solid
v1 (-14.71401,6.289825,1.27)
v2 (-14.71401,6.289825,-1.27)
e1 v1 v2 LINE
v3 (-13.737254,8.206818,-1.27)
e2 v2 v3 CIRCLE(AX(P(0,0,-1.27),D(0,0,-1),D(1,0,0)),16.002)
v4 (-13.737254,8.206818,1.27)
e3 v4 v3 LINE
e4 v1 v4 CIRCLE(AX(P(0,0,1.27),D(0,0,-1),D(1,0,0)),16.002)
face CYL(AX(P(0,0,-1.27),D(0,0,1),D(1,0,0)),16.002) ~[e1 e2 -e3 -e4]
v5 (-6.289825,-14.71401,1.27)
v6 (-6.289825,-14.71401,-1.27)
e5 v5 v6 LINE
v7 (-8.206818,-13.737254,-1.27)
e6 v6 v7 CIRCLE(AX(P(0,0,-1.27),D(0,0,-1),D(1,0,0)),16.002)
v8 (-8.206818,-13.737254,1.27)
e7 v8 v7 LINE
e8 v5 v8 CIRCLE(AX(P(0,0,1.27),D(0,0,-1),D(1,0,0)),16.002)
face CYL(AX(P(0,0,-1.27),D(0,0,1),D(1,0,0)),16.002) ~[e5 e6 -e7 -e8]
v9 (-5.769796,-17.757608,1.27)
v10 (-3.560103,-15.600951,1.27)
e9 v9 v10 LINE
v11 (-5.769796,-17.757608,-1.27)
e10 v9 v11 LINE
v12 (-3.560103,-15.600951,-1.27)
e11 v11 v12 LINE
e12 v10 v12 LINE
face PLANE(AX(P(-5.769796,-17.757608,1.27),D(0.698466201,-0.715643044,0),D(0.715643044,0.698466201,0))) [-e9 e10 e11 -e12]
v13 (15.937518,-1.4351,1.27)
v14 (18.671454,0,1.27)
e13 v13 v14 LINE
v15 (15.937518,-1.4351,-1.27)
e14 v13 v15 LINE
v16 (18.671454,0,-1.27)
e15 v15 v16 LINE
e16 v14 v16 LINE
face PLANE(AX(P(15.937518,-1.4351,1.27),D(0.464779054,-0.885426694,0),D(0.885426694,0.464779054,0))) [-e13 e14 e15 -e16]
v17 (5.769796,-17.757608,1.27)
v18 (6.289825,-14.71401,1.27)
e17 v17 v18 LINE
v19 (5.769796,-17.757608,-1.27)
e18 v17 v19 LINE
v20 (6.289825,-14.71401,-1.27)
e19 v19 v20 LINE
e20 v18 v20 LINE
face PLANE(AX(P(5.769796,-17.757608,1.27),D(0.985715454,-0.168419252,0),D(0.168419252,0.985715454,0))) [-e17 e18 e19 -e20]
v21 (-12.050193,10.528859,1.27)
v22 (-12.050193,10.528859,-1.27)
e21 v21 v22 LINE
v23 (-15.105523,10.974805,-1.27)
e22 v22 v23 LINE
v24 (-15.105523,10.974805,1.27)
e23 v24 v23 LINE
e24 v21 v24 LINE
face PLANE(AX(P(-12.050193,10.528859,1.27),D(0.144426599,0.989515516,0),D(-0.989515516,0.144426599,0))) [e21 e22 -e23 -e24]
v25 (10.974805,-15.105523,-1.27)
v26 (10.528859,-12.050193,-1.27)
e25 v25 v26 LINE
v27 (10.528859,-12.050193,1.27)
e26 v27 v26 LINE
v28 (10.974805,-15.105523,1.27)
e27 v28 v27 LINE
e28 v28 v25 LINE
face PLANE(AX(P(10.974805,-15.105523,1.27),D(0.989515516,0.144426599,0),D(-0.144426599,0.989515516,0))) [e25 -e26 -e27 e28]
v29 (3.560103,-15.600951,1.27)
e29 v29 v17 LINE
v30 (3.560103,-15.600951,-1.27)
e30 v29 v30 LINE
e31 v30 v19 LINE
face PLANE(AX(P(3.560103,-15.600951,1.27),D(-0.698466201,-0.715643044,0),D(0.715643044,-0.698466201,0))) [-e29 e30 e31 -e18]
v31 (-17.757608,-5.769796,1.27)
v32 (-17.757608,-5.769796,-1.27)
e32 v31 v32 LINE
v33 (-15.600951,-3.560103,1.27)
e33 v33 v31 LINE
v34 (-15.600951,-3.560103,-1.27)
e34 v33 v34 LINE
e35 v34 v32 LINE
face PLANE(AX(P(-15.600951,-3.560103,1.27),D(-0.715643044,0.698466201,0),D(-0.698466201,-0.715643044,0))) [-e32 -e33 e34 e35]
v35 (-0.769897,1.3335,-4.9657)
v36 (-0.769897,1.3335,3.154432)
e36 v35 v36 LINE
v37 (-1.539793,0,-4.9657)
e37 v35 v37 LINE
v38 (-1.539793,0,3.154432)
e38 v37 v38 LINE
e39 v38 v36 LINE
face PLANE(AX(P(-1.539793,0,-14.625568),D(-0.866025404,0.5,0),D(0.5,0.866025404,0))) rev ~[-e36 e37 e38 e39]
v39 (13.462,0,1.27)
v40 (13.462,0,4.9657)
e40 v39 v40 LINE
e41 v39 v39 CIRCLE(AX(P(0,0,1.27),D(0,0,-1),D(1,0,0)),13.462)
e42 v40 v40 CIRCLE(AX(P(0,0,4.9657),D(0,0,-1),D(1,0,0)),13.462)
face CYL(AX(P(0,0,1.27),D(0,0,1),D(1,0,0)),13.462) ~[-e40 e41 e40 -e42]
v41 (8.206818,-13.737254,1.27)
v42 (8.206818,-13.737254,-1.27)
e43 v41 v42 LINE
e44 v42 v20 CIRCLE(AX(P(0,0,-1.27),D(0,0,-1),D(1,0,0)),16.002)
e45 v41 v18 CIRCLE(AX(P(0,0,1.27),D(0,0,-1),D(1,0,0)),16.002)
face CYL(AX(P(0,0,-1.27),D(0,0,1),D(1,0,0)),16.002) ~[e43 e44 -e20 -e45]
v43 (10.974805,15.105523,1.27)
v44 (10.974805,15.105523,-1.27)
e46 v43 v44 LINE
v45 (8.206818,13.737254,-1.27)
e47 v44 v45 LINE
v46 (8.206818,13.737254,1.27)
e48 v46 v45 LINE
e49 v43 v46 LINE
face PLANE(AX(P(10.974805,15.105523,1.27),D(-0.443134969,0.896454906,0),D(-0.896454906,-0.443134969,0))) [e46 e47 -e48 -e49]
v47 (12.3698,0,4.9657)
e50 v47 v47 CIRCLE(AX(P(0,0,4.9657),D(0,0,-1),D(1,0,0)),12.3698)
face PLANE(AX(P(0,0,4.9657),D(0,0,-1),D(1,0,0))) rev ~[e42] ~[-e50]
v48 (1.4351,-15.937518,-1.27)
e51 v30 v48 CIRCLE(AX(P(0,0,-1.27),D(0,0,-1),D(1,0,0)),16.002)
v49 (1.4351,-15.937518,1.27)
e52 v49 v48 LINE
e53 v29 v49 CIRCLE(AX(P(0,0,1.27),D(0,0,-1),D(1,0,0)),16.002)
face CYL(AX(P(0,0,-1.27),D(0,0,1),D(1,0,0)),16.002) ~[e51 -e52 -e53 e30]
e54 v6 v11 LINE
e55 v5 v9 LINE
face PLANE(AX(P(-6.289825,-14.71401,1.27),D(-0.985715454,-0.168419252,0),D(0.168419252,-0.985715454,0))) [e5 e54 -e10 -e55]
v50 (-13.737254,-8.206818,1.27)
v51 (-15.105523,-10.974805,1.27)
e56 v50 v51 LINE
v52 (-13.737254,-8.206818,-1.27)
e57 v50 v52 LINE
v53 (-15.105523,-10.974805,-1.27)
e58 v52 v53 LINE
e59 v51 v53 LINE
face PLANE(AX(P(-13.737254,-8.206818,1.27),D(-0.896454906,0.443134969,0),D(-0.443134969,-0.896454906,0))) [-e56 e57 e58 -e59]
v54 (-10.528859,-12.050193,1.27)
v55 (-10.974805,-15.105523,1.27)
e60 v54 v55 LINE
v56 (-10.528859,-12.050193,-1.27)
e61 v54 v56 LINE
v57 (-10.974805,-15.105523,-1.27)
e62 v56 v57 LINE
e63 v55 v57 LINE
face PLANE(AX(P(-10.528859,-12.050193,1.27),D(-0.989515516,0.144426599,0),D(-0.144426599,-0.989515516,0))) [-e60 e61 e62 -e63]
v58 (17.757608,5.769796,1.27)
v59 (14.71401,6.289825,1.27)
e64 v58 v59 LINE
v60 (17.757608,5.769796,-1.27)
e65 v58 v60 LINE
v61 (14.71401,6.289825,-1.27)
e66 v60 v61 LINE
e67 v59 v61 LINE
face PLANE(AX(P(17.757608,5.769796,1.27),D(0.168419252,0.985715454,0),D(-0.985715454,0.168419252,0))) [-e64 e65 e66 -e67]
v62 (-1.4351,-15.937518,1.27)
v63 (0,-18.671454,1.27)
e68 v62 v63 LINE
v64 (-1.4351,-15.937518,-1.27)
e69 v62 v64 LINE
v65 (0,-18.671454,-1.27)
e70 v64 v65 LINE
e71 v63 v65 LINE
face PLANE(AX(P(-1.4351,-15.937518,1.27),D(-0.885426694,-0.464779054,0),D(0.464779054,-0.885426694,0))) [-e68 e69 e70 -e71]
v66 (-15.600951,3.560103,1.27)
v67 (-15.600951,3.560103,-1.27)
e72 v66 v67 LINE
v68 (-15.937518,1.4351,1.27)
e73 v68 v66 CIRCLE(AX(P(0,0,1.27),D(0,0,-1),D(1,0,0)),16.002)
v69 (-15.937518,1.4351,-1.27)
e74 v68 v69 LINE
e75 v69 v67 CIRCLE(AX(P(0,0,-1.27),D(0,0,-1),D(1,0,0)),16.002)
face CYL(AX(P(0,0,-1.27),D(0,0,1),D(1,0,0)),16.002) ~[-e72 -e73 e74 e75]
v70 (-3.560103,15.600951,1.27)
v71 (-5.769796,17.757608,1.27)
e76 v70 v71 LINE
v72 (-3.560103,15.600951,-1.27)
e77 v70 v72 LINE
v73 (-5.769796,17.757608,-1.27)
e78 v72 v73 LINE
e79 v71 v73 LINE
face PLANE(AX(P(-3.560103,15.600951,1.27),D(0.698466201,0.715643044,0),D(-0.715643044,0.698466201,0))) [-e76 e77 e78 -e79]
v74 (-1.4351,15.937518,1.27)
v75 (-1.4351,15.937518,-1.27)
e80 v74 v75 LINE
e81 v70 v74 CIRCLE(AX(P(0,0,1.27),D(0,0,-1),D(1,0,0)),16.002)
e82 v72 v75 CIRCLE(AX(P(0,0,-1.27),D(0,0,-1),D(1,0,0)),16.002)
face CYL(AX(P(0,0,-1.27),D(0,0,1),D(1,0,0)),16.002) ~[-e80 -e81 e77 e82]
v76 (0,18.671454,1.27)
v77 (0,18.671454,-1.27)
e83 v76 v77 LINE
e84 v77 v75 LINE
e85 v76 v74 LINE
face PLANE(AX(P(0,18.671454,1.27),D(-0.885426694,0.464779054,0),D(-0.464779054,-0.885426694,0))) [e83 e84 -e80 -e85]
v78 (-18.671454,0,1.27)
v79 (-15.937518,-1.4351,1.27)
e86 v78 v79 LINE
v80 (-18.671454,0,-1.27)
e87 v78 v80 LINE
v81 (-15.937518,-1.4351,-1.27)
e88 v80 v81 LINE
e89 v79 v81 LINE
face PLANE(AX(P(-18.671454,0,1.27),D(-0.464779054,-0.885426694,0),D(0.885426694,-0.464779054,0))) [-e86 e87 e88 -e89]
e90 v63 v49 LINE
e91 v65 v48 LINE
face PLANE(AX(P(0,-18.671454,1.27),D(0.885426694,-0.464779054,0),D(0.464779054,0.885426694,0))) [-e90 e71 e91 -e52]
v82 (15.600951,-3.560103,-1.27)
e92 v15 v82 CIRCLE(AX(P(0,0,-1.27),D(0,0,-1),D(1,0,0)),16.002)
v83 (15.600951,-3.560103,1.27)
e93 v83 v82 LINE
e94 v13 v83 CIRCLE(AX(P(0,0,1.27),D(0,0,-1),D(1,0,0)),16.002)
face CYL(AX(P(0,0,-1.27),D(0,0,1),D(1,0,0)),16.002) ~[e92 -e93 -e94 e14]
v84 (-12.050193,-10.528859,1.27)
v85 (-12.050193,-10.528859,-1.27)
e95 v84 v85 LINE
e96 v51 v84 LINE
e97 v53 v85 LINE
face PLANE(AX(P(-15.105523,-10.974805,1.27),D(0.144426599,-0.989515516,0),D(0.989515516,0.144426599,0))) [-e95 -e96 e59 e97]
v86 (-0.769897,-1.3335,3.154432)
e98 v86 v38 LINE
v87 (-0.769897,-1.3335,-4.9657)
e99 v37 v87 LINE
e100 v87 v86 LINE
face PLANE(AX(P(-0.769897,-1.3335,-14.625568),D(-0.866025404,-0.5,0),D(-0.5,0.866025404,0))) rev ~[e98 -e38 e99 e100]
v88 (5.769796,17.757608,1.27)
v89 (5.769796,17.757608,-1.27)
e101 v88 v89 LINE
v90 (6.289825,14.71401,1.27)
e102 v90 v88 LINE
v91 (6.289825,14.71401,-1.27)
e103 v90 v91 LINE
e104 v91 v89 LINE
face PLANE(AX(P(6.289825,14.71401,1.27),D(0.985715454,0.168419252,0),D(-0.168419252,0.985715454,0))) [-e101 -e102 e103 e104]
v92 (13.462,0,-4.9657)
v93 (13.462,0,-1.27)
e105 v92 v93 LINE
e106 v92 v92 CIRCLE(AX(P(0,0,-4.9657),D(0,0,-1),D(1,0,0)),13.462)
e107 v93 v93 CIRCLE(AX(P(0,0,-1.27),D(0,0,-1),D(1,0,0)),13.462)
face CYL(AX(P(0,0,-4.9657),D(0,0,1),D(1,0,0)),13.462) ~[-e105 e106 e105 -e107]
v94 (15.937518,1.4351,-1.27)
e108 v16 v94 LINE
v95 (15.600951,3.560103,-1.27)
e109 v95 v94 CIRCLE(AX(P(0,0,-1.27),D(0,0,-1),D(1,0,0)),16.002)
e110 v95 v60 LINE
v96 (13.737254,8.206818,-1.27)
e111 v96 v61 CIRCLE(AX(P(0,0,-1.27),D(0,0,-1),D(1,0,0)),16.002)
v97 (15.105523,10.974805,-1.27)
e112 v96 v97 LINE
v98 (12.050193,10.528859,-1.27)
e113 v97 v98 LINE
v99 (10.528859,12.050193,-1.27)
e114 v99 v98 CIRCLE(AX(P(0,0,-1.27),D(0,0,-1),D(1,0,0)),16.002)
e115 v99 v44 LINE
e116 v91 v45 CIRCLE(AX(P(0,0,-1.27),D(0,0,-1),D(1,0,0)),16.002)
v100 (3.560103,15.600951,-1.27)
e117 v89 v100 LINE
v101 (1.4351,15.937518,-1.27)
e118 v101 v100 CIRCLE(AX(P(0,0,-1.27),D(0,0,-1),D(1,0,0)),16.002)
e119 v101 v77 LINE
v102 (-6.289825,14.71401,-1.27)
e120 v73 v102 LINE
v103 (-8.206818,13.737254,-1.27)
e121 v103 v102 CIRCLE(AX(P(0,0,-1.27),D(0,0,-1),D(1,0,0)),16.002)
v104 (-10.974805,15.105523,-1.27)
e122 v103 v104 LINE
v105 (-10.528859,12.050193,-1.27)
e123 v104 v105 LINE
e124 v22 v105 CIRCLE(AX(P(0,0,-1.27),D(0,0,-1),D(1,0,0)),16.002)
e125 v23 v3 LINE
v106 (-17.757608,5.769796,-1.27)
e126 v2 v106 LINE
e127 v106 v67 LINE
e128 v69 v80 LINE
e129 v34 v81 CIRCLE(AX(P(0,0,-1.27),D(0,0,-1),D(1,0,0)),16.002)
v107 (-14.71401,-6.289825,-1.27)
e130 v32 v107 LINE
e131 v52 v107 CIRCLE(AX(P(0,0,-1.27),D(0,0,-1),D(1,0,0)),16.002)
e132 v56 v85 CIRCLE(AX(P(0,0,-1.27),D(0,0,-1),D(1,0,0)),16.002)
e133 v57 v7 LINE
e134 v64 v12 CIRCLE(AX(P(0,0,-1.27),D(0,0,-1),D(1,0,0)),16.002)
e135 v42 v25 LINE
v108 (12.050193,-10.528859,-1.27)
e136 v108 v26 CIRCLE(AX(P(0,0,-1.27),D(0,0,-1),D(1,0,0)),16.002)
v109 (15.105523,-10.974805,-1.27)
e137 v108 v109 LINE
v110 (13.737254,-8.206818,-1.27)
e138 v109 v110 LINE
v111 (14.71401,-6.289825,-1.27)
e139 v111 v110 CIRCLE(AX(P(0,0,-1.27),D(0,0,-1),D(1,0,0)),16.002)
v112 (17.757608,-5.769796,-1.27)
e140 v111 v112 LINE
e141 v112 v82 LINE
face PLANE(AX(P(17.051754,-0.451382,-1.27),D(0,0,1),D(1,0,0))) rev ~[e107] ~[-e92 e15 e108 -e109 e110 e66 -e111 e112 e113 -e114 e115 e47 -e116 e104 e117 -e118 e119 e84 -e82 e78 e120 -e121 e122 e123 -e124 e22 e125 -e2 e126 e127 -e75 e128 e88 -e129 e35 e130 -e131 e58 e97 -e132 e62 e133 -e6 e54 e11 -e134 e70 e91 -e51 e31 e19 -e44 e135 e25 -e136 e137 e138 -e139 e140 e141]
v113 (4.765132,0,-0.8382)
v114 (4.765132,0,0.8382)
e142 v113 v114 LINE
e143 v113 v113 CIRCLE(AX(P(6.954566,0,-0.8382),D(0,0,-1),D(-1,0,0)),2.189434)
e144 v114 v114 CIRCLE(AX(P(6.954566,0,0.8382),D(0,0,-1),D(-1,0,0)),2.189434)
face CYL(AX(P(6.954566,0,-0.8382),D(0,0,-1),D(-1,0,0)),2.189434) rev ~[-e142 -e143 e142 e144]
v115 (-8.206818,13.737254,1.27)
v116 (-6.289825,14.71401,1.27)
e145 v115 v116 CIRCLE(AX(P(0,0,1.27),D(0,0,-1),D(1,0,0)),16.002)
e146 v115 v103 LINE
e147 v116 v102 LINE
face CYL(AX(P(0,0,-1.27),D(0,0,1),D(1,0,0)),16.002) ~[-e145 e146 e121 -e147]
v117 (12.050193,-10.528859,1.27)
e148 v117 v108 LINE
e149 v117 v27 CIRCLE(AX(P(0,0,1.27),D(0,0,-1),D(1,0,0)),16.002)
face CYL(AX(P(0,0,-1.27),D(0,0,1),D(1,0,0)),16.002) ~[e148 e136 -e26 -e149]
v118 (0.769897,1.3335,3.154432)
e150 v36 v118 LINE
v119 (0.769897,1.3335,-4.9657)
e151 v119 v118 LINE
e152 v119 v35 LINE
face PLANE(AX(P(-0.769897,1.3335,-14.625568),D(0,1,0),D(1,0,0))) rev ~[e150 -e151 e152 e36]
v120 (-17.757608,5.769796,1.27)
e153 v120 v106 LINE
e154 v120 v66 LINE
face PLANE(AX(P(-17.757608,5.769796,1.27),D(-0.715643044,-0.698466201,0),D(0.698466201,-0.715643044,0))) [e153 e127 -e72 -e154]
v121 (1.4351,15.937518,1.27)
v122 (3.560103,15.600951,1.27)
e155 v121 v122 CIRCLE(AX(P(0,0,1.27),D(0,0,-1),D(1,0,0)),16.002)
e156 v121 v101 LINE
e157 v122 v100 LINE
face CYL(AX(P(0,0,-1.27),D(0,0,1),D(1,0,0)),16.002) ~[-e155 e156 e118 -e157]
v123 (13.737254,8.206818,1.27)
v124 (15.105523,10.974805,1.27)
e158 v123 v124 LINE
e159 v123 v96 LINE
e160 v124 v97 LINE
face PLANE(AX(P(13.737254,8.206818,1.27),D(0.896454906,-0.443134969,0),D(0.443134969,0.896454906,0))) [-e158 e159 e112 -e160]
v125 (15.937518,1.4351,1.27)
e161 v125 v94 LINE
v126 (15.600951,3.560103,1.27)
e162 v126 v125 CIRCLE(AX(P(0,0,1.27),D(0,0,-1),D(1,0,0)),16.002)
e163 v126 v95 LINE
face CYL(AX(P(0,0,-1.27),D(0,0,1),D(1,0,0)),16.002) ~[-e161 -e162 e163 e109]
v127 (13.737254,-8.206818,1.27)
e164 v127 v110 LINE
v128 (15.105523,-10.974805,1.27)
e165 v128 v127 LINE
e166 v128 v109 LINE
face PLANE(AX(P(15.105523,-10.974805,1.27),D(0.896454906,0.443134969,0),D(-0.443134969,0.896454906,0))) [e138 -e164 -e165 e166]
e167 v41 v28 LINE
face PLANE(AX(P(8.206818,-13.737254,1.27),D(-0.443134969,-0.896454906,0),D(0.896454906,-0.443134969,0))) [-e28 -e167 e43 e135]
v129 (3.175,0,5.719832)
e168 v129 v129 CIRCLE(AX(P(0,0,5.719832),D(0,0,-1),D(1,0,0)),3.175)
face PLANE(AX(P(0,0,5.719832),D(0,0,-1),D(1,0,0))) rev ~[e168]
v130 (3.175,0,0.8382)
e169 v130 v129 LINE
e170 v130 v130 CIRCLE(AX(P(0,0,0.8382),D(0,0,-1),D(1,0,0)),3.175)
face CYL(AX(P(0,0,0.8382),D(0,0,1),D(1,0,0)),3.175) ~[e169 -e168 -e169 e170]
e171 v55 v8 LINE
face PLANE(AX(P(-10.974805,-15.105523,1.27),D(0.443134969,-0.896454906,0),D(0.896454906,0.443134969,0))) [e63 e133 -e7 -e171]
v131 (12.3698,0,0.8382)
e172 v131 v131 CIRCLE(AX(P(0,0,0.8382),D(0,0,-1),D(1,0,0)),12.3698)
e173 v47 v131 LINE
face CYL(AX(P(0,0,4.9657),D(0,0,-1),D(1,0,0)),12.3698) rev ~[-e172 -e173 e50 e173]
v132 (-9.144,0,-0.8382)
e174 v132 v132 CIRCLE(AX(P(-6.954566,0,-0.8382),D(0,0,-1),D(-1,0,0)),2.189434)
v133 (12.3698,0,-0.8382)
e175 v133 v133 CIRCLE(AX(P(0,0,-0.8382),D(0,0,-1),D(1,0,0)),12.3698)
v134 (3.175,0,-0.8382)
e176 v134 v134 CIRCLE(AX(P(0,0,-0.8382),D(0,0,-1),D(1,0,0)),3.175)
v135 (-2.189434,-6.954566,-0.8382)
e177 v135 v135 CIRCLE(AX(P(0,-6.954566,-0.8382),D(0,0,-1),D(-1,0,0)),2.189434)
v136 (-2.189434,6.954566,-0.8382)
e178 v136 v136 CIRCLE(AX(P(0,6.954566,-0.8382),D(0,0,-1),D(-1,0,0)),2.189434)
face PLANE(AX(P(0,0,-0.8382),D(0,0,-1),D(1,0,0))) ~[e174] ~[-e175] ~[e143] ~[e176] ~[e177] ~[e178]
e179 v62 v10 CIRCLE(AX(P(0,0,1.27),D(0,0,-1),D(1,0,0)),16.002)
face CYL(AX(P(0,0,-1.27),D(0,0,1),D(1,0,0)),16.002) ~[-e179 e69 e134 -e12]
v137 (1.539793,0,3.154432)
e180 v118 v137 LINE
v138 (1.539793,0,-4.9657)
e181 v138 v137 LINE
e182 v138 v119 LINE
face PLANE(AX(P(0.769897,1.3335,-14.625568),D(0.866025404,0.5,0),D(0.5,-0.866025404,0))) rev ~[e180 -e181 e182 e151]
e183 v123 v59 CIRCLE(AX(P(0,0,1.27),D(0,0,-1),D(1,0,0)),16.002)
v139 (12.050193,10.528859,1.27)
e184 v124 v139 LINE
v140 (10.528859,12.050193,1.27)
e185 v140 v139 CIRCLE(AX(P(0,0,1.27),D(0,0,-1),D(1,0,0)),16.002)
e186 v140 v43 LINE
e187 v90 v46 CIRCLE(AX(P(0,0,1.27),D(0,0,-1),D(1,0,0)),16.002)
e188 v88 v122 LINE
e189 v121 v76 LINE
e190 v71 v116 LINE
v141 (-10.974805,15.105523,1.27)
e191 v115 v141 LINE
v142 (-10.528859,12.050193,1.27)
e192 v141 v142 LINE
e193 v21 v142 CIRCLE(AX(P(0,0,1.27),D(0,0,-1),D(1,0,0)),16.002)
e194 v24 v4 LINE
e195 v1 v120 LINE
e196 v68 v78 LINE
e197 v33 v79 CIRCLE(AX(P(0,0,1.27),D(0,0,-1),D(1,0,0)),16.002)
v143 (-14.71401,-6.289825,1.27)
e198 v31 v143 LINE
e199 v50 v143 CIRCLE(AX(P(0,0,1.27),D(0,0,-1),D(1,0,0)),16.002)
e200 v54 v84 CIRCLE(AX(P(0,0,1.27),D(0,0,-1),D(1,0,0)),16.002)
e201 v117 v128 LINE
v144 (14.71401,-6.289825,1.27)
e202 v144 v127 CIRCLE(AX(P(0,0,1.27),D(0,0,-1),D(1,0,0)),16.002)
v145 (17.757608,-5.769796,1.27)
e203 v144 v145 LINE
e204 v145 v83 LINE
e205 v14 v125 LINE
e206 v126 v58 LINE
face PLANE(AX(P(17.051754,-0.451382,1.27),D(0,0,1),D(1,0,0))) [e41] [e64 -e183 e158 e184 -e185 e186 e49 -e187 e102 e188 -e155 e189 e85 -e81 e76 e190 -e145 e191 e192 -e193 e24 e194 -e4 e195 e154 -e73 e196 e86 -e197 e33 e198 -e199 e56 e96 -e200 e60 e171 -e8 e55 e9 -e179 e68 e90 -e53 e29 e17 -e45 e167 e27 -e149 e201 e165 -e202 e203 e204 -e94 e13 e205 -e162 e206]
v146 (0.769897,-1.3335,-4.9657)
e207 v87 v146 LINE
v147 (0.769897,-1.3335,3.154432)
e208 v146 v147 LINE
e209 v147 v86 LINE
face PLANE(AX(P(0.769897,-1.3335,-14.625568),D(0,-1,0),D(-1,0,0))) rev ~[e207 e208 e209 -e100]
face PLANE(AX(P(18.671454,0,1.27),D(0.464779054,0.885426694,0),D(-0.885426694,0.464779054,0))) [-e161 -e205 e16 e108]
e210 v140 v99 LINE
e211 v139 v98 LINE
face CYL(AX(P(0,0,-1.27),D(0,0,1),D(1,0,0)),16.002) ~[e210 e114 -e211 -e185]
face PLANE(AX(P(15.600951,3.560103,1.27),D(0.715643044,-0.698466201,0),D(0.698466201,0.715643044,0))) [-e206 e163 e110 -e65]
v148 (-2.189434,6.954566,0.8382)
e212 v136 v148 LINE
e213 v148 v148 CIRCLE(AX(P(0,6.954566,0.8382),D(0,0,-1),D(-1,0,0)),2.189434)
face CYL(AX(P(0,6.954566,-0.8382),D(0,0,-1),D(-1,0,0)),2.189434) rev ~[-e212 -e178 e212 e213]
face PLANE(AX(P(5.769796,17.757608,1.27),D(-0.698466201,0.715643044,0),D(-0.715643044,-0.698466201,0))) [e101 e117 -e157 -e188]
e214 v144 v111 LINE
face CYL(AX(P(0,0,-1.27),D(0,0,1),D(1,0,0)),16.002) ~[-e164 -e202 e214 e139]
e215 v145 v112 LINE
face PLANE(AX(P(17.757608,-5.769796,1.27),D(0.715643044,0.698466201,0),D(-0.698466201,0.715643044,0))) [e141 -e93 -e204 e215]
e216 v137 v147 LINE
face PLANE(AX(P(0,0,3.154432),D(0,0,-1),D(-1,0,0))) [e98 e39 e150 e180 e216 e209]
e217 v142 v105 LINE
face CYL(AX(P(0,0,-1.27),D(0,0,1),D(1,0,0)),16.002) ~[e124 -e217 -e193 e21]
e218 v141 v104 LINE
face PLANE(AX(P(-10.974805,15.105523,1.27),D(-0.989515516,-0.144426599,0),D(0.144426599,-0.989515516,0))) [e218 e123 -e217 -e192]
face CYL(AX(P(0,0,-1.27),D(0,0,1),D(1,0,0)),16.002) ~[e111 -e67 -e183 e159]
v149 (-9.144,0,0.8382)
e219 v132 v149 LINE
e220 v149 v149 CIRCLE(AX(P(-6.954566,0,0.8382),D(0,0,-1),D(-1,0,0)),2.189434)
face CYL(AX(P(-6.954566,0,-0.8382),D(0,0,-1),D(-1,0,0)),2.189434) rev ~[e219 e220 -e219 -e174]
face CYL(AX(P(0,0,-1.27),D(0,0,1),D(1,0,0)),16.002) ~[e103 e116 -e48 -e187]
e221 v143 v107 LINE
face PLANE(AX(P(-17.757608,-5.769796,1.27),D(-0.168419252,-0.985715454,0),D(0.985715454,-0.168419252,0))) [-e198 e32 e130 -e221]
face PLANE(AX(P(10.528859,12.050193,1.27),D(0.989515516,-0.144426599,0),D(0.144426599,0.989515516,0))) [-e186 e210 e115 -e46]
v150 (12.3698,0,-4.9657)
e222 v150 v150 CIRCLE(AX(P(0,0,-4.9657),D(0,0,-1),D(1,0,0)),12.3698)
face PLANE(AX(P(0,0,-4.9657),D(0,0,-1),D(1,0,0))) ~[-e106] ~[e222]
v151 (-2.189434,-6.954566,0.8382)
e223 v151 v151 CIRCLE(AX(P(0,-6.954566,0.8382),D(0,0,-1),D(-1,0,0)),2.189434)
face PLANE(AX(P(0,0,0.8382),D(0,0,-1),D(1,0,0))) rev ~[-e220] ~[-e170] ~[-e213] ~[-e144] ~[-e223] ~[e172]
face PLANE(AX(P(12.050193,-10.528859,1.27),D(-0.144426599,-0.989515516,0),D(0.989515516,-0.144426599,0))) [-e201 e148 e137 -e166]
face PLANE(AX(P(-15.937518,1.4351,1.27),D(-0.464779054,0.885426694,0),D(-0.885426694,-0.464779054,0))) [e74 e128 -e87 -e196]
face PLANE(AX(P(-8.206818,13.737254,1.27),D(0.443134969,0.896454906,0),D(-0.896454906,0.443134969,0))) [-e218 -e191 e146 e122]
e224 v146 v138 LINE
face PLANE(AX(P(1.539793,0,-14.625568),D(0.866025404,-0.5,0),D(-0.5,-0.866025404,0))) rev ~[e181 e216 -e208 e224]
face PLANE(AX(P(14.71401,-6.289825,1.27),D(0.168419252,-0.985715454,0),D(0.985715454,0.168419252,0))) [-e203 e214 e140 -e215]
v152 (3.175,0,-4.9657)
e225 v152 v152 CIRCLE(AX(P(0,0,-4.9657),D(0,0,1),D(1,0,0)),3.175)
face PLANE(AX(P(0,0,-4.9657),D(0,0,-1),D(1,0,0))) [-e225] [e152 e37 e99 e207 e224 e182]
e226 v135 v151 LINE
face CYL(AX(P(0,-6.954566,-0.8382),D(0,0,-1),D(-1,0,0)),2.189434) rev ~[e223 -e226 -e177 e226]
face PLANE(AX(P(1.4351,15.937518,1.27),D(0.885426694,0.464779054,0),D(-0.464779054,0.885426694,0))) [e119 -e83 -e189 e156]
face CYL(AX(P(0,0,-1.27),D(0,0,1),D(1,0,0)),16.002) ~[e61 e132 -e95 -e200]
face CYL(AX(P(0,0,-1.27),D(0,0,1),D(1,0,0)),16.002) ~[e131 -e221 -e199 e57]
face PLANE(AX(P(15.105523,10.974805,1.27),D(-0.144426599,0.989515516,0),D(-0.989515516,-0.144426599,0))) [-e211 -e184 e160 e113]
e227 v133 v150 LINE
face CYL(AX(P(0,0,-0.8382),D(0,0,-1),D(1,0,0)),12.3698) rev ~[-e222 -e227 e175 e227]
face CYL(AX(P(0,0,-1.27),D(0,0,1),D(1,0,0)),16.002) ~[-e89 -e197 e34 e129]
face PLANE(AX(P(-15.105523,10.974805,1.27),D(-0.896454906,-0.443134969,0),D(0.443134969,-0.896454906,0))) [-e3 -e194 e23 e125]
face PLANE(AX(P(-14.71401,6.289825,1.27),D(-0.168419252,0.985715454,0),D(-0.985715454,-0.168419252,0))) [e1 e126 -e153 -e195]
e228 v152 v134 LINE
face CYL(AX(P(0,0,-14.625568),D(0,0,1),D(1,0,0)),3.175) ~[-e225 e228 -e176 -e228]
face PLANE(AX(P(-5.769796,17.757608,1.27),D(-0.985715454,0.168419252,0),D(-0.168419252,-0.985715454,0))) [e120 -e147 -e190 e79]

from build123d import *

# Parameters (mm, degrees)
CUT_EXTRUDE2_DEPTH  = 17.78
SKETCH4_R           = 2.189434211
CUT_EXTRUDE3_DEPTH  = 1.6764
BOSS_EXTRUDE1_DEPTH = 2.54
SKETCH6_R           = 12.3698
CUT_EXTRUDE4_DEPTH  = 29.485557153


with BuildPart() as part:
    # Sketch1 → Revolve1 (revolve)
    with BuildSketch(Plane(origin=(0, 0, 0), x_dir=(0, 0, -1), z_dir=(1, 0, 0)), mode=Mode.PRIVATE) as revolve1_sk:
        Polygon((4.9657, 13.462), (1.27, 13.462), (1.27, 16.002), (-1.27, 16.002), (-1.27, 13.462), (-4.9657, 13.462), (-4.9657, 12.3698), (-0.8382, 12.3698), (-0.8382, 3.175), (-5.719832453, 3.175), (-5.719832453, 0), (0, 0), (14.625567547, 0), (14.625567547, 3.175), (0.8382, 3.175), (0.8382, 12.3698), (4.9657, 12.3698), align=None)
    revolve(revolve1_sk.sketch.rotate(Axis((0, 0, 0), (0, 0, -1)), 90), axis=Axis((0, 0, 0), (0, 0, -1)))

    # Sketch3 → Cut-Extrude2 (cut)
    with BuildSketch(Plane(origin=(0, 0, -14.625567547), x_dir=(-1, 0, 0), z_dir=(0, 0, -1))):
        Polygon((1.539793168, 0), (0.769896584, 1.3335), (-0.769896584, 1.3335), (-1.539793168, 0), (-0.769896584, -1.3335), (0.769896584, -1.3335), align=None)
    extrude(amount=-CUT_EXTRUDE2_DEPTH, mode=Mode.SUBTRACT)

    # Sketch4 → Cut-Extrude3 (cut)
    with BuildSketch(Plane(origin=(0, 0, -0.8382), x_dir=(-1, 0, 0), z_dir=(0, 0, -1))):
        with Locations((0, 6.954565789)):
            Circle(SKETCH4_R)
        with Locations((6.954565789, 0)):
            Circle(SKETCH4_R)
        with Locations((0, -6.954565789)):
            Circle(SKETCH4_R)
        with Locations((-6.954565789, 0)):
            Circle(SKETCH4_R)
    extrude(amount=-CUT_EXTRUDE3_DEPTH, mode=Mode.SUBTRACT)

    # Sketch5 → Boss-Extrude1 (add)
    with BuildSketch(Plane.XY.offset(1.27)):
        with BuildLine():
            ThreePointArc((-13.73725383, 8.206817971), (-12.945889944, 9.405739607), (-12.050192599, 10.528858548))
            Line((-12.050192599, 10.528858548), (-15.10552331, 10.974805092))
            Line((-15.10552331, 10.974805092), (-13.73725383, 8.206817971))
        make_face()
        with BuildLine():
            ThreePointArc((-10.528858548, 12.050192599), (-9.405739607, 12.945889944), (-8.206817971, 13.73725383))
            Line((-8.206817971, 13.73725383), (-10.974805092, 15.10552331))
            Line((-10.974805092, 15.10552331), (-10.528858548, 12.050192599))
        make_face()
        with BuildLine():
            ThreePointArc((-6.289825233, 14.714010417), (-4.944889944, 15.218806374), (-3.56010282, 15.600950994))
            Line((-3.56010282, 15.600950994), (-5.769796486, 17.757607659))
            Line((-5.769796486, 17.757607659), (-6.289825233, 14.714010417))
        make_face()
        with BuildLine():
            ThreePointArc((-1.4351, 15.937518376), (0, 16.002), (1.4351, 15.937518376))
            Line((1.4351, 15.937518376), (0, 18.671453646))
            Line((0, 18.671453646), (-1.4351, 15.937518376))
        make_face()
        with BuildLine():
            ThreePointArc((3.56010282, 15.600950994), (4.944889944, 15.218806374), (6.289825233, 14.714010417))
            Line((6.289825233, 14.714010417), (5.769796486, 17.757607659))
            Line((5.769796486, 17.757607659), (3.56010282, 15.600950994))
        make_face()
        with BuildLine():
            ThreePointArc((8.206817971, 13.73725383), (9.405739607, 12.945889944), (10.528858548, 12.050192599))
            Line((10.528858548, 12.050192599), (10.974805092, 15.10552331))
            Line((10.974805092, 15.10552331), (8.206817971, 13.73725383))
        make_face()
        with BuildLine():
            ThreePointArc((12.050192599, 10.528858548), (12.945889944, 9.405739607), (13.73725383, 8.206817971))
            Line((13.73725383, 8.206817971), (15.10552331, 10.974805092))
            Line((15.10552331, 10.974805092), (12.050192599, 10.528858548))
        make_face()
        with BuildLine():
            ThreePointArc((14.714010417, 6.289825233), (15.218806374, 4.944889944), (15.600950994, 3.56010282))
            Line((15.600950994, 3.56010282), (17.757607659, 5.769796486))
            Line((17.757607659, 5.769796486), (14.714010417, 6.289825233))
        make_face()
        with BuildLine():
            Line((18.671453646, 0), (16.002, 0))
            ThreePointArc((16.002, 0), (15.985871466, -0.718273954), (15.937518376, -1.4351))
            Line((15.937518376, -1.4351), (18.671453646, 0))
        make_face()
        with BuildLine():
            ThreePointArc((15.937518376, 1.4351), (15.985871466, 0.718273954), (16.002, 0))
            Line((16.002, 0), (18.671453646, 0))
            Line((18.671453646, 0), (15.937518376, 1.4351))
        make_face()
        with BuildLine():
            Line((17.757607659, -5.769796486), (15.600950994, -3.56010282))
            ThreePointArc((15.600950994, -3.56010282), (15.218806374, -4.944889944), (14.714010417, -6.289825233))
            Line((14.714010417, -6.289825233), (17.757607659, -5.769796486))
        make_face()
        with BuildLine():
            Line((15.10552331, -10.974805092), (13.73725383, -8.206817971))
            ThreePointArc((13.73725383, -8.206817971), (12.945889944, -9.405739607), (12.050192599, -10.528858548))
            Line((12.050192599, -10.528858548), (15.10552331, -10.974805092))
        make_face()
        with BuildLine():
            Line((10.974805092, -15.10552331), (10.528858548, -12.050192599))
            ThreePointArc((10.528858548, -12.050192599), (9.405739607, -12.945889944), (8.206817971, -13.73725383))
            Line((8.206817971, -13.73725383), (10.974805092, -15.10552331))
        make_face()
        with BuildLine():
            Line((5.769796486, -17.757607659), (6.289825233, -14.714010417))
            ThreePointArc((6.289825233, -14.714010417), (4.944889944, -15.218806374), (3.56010282, -15.600950994))
            Line((3.56010282, -15.600950994), (5.769796486, -17.757607659))
        make_face()
        with BuildLine():
            Line((0, -18.671453646), (1.4351, -15.937518376))
            ThreePointArc((1.4351, -15.937518376), (0, -16.002), (-1.4351, -15.937518376))
            Line((-1.4351, -15.937518376), (0, -18.671453646))
        make_face()
        with BuildLine():
            Line((-5.769796486, -17.757607659), (-3.56010282, -15.600950994))
            ThreePointArc((-3.56010282, -15.600950994), (-4.944889944, -15.218806374), (-6.289825233, -14.714010417))
            Line((-6.289825233, -14.714010417), (-5.769796486, -17.757607659))
        make_face()
        with BuildLine():
            Line((-10.974805092, -15.10552331), (-8.206817971, -13.73725383))
            ThreePointArc((-8.206817971, -13.73725383), (-9.405739607, -12.945889944), (-10.528858548, -12.050192599))
            Line((-10.528858548, -12.050192599), (-10.974805092, -15.10552331))
        make_face()
        with BuildLine():
            Line((-15.10552331, -10.974805092), (-12.050192599, -10.528858548))
            ThreePointArc((-12.050192599, -10.528858548), (-12.945889944, -9.405739607), (-13.73725383, -8.206817971))
            Line((-13.73725383, -8.206817971), (-15.10552331, -10.974805092))
        make_face()
        with BuildLine():
            Line((-17.757607659, -5.769796486), (-14.714010417, -6.289825233))
            ThreePointArc((-14.714010417, -6.289825233), (-15.218806374, -4.944889944), (-15.600950994, -3.56010282))
            Line((-15.600950994, -3.56010282), (-17.757607659, -5.769796486))
        make_face()
        with BuildLine():
            ThreePointArc((-15.937518376, -1.4351), (-16.002, 0), (-15.937518376, 1.4351))
            Line((-15.937518376, 1.4351), (-18.671453646, 0))
            Line((-18.671453646, 0), (-15.937518376, -1.4351))
        make_face()
        with BuildLine():
            ThreePointArc((-15.600950994, 3.56010282), (-15.218806374, 4.944889944), (-14.714010417, 6.289825233))
            Line((-14.714010417, 6.289825233), (-17.757607659, 5.769796486))
            Line((-17.757607659, 5.769796486), (-15.600950994, 3.56010282))
        make_face()
    extrude(amount=-BOSS_EXTRUDE1_DEPTH)

    # Sketch6 → Cut-Extrude4 (cut, through all)
    with BuildSketch(Plane(origin=(0, 0, -4.9657), x_dir=(-1, 0, 0), z_dir=(0, 0, -1))):
        with Locations(Location((0, 0, 0), (0, 0, 180))):
            Circle(SKETCH6_R)
    extrude(amount=CUT_EXTRUDE4_DEPTH, mode=Mode.SUBTRACT)


solid = part.part
